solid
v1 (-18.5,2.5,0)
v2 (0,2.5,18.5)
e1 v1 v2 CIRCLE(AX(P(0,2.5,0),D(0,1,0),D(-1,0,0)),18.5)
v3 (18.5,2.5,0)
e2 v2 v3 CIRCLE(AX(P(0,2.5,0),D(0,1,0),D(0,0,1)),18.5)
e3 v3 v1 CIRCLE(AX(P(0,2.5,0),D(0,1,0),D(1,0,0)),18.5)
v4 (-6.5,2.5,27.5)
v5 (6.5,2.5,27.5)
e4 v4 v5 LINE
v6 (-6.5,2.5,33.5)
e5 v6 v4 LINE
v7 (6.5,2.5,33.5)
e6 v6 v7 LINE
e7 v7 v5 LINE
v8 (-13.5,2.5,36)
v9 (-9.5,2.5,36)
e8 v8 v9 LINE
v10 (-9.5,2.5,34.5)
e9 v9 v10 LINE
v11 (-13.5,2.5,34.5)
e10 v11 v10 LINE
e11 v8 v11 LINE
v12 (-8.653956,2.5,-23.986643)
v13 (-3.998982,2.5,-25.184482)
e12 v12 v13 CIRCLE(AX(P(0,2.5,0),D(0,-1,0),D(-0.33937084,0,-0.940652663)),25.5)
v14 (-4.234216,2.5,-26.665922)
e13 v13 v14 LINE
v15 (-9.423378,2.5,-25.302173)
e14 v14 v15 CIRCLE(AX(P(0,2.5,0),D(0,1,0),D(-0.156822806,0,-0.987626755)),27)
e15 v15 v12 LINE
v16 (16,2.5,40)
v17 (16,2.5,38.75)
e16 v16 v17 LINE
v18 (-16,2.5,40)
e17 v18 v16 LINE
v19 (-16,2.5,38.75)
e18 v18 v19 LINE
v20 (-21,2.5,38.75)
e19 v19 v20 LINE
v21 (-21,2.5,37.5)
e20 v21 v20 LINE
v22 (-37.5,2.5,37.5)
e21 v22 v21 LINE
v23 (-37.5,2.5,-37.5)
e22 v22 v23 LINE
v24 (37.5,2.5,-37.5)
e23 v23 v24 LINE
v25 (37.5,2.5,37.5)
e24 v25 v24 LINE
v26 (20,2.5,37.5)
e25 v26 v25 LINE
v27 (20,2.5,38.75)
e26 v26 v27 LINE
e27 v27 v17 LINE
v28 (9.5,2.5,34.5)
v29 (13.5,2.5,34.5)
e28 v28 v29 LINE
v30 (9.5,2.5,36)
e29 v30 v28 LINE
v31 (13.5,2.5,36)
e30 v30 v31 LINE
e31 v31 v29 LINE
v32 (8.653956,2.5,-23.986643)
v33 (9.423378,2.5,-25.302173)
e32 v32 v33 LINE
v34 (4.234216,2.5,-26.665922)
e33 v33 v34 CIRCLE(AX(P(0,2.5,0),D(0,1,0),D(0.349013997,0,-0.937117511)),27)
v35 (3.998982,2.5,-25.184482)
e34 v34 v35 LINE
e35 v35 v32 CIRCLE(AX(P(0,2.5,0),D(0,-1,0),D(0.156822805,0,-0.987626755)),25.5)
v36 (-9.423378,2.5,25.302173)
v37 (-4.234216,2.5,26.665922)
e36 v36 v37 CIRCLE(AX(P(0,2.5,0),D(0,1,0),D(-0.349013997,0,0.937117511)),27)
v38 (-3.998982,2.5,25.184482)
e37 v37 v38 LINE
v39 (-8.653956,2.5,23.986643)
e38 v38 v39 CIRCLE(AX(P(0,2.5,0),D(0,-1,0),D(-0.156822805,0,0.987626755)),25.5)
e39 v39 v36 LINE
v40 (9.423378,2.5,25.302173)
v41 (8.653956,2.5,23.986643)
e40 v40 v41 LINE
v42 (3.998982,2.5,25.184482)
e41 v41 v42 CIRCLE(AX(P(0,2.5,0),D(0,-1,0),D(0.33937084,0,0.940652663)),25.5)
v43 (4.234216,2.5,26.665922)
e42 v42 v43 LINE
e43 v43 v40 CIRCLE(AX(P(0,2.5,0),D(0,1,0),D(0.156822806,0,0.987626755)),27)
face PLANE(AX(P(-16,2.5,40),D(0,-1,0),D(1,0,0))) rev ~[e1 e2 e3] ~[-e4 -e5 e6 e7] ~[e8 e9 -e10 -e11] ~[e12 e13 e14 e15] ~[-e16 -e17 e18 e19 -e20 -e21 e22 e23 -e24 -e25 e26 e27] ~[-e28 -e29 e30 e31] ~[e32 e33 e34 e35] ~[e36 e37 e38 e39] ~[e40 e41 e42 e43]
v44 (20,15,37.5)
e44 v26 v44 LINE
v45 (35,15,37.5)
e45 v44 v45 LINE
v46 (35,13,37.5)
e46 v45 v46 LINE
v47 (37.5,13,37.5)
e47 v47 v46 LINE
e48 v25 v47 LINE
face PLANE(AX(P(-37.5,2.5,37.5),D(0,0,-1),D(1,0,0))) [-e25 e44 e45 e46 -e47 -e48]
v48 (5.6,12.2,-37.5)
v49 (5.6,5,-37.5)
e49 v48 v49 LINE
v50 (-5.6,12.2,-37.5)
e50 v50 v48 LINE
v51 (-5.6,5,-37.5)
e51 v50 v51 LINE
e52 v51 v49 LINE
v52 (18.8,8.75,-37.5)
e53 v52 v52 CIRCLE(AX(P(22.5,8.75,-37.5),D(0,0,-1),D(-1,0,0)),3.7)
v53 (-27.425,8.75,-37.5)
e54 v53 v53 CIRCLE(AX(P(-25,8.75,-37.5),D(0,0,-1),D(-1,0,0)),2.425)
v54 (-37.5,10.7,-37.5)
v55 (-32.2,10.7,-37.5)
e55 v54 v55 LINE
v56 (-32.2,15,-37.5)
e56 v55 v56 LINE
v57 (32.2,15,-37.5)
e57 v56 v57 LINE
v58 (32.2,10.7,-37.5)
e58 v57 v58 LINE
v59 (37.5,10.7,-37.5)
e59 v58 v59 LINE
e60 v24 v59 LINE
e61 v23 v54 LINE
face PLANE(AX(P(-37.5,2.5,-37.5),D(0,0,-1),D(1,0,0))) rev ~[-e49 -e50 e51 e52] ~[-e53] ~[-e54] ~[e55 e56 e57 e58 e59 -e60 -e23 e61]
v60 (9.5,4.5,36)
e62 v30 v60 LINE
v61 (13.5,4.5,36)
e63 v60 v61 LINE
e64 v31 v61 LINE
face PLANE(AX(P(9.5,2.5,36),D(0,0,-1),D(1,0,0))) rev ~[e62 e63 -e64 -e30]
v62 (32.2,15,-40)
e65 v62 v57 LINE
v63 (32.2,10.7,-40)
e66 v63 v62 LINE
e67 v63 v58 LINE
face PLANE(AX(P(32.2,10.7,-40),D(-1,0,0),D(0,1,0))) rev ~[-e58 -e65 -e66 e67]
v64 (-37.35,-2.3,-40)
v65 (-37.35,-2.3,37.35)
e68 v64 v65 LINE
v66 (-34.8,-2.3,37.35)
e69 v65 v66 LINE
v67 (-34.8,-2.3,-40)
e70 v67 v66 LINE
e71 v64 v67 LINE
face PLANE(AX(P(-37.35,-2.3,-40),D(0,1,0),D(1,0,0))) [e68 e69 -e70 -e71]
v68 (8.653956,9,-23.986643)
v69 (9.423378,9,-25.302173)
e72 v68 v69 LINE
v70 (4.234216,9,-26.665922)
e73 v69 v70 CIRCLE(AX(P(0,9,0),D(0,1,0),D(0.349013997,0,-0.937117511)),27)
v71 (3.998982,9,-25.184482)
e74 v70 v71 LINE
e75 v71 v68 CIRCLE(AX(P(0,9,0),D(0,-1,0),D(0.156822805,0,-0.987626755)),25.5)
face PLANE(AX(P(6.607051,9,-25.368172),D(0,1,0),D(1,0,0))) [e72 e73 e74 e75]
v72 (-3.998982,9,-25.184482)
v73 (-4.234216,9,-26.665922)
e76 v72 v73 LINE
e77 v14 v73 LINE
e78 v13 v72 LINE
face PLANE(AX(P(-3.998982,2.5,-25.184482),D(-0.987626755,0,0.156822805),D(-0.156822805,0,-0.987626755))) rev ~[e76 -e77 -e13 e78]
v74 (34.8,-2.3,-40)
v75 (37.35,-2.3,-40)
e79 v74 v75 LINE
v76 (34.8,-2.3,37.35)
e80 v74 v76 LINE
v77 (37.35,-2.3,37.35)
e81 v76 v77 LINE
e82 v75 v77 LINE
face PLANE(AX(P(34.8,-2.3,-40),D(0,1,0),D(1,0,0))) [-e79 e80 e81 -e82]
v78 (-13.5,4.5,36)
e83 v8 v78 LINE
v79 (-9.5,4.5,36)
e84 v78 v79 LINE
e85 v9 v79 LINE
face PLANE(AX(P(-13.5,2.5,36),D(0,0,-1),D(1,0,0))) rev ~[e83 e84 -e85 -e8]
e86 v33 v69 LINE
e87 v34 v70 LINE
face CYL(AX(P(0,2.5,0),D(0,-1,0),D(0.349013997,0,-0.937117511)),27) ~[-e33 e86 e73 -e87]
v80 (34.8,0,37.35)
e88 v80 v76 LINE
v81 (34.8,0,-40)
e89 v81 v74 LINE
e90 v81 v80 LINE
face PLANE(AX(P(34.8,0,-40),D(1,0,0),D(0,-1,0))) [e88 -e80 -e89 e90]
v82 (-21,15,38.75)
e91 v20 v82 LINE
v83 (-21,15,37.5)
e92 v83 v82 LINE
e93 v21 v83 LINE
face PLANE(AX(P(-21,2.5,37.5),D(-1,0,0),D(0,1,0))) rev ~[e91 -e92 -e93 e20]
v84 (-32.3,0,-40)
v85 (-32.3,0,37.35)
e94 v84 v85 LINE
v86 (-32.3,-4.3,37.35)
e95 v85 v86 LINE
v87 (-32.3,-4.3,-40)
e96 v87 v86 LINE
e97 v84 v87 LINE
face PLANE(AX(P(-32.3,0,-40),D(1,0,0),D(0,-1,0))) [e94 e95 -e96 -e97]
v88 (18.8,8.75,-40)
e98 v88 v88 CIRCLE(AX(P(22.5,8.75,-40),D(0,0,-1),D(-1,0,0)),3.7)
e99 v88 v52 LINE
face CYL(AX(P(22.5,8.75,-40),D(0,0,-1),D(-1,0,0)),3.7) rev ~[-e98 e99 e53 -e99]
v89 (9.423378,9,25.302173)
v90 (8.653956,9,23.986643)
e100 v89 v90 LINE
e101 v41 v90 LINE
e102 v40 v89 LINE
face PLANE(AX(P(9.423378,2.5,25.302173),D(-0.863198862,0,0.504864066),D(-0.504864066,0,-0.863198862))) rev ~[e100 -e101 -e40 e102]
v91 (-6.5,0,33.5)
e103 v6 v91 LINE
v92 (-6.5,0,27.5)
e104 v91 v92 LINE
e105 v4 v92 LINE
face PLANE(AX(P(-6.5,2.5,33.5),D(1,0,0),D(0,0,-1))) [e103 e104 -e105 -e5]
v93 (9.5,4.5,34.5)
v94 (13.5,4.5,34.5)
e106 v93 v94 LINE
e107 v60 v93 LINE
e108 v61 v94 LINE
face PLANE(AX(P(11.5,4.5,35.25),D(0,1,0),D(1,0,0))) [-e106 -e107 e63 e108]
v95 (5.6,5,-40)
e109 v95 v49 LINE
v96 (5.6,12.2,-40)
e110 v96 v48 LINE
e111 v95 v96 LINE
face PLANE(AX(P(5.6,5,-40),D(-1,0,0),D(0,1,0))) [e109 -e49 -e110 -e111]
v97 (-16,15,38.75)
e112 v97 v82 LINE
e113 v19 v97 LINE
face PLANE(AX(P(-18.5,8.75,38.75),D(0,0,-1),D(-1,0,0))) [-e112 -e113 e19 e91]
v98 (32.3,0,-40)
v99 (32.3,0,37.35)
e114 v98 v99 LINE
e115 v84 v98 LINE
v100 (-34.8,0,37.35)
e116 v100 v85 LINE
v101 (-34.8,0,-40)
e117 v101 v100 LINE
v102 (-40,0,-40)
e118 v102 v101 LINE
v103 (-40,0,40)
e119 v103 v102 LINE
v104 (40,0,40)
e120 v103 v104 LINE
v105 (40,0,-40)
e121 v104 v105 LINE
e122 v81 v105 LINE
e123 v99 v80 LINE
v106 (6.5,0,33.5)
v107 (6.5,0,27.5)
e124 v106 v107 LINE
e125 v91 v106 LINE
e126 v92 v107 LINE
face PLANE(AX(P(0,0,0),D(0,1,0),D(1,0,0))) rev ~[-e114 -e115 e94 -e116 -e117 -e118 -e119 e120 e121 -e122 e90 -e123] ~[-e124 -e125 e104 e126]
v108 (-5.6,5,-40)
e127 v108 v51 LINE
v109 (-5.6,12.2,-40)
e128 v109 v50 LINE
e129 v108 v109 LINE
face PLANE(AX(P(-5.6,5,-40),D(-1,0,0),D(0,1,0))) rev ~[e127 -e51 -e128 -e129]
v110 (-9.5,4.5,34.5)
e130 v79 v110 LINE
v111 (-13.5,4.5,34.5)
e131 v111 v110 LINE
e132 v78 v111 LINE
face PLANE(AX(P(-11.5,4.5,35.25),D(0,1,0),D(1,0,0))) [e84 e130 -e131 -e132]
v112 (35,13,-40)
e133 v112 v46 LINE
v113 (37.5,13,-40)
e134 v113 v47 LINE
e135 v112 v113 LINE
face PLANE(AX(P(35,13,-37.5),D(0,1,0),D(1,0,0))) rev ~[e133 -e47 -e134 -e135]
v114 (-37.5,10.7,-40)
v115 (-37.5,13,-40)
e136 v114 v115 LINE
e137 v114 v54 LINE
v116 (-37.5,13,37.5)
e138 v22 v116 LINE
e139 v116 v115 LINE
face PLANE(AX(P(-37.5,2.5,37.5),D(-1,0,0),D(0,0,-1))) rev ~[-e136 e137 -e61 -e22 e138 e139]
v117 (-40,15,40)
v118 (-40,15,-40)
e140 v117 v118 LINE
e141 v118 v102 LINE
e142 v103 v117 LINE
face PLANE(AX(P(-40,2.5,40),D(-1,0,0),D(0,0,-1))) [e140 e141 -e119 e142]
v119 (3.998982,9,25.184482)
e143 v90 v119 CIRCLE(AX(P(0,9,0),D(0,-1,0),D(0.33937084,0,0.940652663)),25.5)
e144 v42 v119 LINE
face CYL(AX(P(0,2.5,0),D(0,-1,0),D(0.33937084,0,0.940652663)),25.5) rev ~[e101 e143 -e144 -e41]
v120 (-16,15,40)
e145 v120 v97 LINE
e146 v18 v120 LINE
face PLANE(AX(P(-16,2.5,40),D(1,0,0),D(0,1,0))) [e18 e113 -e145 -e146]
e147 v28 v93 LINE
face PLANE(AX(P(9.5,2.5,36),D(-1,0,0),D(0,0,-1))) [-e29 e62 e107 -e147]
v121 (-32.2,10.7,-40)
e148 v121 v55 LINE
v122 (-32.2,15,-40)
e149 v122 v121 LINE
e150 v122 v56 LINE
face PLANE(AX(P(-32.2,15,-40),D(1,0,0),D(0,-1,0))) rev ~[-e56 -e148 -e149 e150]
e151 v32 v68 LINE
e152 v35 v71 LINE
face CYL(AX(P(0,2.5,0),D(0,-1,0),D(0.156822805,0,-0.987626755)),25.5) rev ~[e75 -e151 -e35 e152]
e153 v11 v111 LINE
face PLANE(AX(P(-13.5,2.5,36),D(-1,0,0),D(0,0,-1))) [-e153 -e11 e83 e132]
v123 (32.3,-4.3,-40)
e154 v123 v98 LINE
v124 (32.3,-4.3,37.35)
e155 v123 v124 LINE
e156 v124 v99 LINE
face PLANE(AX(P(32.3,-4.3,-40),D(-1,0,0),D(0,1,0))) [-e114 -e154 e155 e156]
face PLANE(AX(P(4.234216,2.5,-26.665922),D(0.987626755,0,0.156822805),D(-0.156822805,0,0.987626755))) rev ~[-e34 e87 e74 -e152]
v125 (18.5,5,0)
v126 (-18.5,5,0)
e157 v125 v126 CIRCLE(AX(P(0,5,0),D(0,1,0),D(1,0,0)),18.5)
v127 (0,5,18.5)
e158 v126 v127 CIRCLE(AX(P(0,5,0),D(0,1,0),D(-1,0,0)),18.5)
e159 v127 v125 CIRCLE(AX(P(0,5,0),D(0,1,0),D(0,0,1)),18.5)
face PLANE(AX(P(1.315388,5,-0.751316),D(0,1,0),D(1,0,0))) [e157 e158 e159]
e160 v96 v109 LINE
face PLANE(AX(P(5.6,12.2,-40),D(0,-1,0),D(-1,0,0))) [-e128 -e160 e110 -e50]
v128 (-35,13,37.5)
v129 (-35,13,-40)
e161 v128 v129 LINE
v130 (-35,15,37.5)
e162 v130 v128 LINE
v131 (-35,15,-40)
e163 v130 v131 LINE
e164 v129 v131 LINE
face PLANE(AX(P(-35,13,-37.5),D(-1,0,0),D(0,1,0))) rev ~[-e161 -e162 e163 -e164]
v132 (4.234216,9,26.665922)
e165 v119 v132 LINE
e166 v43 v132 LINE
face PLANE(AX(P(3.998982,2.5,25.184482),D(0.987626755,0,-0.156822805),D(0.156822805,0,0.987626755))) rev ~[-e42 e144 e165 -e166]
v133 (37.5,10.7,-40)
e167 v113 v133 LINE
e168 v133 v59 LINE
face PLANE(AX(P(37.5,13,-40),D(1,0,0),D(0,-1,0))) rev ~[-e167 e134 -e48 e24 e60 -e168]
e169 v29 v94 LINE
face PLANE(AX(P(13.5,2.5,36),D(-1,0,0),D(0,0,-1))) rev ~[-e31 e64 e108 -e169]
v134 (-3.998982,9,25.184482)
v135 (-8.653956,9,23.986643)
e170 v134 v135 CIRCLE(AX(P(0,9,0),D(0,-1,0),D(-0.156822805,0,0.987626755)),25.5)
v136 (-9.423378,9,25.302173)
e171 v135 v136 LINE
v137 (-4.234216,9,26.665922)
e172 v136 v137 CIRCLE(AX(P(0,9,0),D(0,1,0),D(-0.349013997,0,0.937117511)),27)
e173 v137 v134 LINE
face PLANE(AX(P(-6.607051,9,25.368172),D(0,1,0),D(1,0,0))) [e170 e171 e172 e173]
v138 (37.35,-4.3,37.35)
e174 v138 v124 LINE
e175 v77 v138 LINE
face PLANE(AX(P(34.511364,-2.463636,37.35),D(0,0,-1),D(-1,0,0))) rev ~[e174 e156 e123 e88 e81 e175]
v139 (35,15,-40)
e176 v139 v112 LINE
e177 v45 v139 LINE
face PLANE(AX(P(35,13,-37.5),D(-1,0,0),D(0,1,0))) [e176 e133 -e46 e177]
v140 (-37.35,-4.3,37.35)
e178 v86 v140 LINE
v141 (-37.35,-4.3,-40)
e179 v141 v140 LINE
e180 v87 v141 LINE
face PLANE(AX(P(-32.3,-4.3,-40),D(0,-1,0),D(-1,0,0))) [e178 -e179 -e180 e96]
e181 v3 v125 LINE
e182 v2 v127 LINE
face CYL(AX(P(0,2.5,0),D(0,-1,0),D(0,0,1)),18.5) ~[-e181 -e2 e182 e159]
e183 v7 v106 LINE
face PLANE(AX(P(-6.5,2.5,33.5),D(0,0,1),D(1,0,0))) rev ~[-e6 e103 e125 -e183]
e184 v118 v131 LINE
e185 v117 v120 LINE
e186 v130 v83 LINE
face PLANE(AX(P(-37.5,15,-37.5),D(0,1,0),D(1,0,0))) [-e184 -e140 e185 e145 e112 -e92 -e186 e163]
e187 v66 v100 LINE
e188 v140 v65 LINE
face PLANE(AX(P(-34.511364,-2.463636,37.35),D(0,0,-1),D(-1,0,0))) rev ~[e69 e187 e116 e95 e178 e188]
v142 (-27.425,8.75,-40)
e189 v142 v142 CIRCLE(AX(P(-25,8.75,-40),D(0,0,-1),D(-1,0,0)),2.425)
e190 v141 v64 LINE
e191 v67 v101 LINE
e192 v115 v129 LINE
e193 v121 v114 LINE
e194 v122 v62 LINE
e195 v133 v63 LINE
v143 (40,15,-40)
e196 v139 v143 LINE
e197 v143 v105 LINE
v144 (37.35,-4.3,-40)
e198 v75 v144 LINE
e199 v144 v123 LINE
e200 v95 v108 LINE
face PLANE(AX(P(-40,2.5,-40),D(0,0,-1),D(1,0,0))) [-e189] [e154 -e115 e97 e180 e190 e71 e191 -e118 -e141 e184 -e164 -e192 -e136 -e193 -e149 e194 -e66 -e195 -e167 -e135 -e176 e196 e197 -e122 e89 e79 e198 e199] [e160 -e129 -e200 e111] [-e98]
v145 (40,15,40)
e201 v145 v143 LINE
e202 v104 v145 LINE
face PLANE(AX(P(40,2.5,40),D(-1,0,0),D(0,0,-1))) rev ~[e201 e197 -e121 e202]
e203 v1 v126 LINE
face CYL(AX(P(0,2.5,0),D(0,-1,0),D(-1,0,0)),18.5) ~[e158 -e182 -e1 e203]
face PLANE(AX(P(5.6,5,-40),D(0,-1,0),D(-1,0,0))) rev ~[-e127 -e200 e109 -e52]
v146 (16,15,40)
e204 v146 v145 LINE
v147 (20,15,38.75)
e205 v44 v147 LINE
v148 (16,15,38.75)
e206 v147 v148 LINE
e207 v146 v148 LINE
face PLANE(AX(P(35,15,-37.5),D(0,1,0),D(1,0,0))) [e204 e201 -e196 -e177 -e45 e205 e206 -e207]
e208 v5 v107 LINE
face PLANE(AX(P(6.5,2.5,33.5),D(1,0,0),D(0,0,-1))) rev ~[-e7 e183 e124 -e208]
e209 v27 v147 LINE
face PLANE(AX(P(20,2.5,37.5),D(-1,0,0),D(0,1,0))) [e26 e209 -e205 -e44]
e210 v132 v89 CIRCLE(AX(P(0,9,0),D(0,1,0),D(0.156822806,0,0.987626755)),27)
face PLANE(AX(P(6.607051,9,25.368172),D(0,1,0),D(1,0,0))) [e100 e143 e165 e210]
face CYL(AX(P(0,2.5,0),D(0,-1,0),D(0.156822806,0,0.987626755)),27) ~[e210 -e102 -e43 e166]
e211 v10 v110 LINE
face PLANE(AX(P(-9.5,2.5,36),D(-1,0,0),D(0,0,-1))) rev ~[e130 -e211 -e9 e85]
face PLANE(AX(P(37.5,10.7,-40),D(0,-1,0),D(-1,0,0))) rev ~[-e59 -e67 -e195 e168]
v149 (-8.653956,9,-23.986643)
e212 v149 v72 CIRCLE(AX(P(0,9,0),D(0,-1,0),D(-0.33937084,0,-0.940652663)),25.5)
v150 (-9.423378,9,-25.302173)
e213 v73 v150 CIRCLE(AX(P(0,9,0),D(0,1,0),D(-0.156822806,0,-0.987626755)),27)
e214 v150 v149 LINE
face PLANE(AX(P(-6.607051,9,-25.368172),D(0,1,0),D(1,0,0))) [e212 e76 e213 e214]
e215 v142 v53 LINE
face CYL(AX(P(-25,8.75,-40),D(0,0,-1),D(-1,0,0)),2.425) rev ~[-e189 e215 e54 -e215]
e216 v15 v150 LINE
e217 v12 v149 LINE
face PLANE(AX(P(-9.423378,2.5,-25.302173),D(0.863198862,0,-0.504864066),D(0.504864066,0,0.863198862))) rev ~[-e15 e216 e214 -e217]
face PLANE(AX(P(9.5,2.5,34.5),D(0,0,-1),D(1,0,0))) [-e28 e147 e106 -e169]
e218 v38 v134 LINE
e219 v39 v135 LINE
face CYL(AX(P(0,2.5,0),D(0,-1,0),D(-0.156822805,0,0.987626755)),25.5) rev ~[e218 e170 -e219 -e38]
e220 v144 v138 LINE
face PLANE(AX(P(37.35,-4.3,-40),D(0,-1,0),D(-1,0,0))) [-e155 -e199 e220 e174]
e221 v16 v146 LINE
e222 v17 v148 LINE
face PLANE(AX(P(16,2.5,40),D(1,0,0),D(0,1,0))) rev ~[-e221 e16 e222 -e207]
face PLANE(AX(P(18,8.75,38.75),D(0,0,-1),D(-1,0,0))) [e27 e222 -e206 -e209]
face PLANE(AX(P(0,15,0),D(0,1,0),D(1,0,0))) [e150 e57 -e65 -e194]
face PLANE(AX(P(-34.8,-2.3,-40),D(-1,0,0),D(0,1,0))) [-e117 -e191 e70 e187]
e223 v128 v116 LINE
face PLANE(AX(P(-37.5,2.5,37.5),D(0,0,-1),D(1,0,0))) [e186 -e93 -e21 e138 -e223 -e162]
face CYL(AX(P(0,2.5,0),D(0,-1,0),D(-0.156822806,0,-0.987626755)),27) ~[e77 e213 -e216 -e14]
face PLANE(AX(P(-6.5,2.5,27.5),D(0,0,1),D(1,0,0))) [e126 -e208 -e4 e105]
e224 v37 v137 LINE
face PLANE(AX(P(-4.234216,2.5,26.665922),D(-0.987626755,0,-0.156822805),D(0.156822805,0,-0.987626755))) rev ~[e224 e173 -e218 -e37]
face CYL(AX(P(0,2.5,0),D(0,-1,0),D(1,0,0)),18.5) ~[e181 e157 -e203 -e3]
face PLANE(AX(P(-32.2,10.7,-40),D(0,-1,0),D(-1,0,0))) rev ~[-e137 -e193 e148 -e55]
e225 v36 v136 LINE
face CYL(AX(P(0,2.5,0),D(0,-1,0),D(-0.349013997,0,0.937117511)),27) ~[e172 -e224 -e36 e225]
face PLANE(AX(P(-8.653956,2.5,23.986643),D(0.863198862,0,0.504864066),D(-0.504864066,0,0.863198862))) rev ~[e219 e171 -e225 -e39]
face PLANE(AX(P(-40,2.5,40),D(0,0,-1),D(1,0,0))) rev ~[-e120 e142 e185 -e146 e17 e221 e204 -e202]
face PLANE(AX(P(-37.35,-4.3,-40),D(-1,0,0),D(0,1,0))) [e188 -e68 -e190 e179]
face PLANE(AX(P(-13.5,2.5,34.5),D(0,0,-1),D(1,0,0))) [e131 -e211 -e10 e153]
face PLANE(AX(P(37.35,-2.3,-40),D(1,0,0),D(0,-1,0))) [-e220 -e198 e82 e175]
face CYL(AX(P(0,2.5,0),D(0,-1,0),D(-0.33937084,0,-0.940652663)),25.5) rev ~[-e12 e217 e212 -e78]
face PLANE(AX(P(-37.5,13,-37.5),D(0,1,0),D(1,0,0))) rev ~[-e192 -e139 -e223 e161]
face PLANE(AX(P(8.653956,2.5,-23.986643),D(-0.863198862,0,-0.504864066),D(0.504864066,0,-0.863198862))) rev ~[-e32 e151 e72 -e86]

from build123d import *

# Parameters (mm, degrees)
SKETCH1_W           = 80
SKETCH1_H           = 80
BOSS_EXTRUDE1_DEPTH = 2.5
SKETCH3_W           = 80
SKETCH3_H           = 80
SKETCH3_W_2         = 75
SKETCH3_H_2         = 75
BOSS_EXTRUDE2_DEPTH = 12.5
BOSS_EXTRUDE3_DEPTH = 6.5
SKETCH5_W           = 13
SKETCH5_H           = 6
CUT_EXTRUDE1_DEPTH  = 58.933151131
CUT_EXTRUDE2_REACH  = 92.692
SKETCH6_W           = 32
SKETCH6_H           = 12.5
CUT_EXTRUDE3_REACH  = 92.692
SKETCH7_W           = 11.2
SKETCH7_H           = 7.2
BOSS_EXTRUDE4_DEPTH = 77.35
CUT_EXTRUDE4_REACH  = 92.692
BOSS_EXTRUDE5_REACH = 90.494
SKETCH15_W          = 2.5
SKETCH15_H          = 2
BOSS_EXTRUDE6_DEPTH = 2.5
SKETCH16_W          = 5
SKETCH16_H          = 12.5
SKETCH16_W_2        = 4
CUT_EXTRUDE5_DEPTH  = 1.25
SKETCH17_W          = 4
SKETCH17_H          = 1.5
BOSS_EXTRUDE7_DEPTH = 2
CUT_EXTRUDE7_REACH  = 92.692
SKETCH18_R          = 3.7
CUT_EXTRUDE8_REACH  = 92.692
SKETCH19_R          = 2.425


with BuildPart() as part:
    # Sketch1 → Boss-Extrude1 (new body)
    with BuildSketch(Plane(origin=(0, 0, 0), x_dir=(1, 0, 0), z_dir=(0, 1, 0))):
        Rectangle(SKETCH1_W, SKETCH1_H)
    extrude(amount=BOSS_EXTRUDE1_DEPTH)

    # Sketch3 → Boss-Extrude2 (add)
    with BuildSketch(Plane(origin=(0, 2.5, 0), x_dir=(1, 0, 0), z_dir=(0, 1, 0))):
        Rectangle(SKETCH3_W, SKETCH3_H)
        Rectangle(SKETCH3_W_2, SKETCH3_H_2, mode=Mode.SUBTRACT)
    extrude(amount=BOSS_EXTRUDE2_DEPTH)

    # Sketch2 → Boss-Extrude3 (add)
    with BuildSketch(Plane(origin=(0, 2.5, 0), x_dir=(1, 0, 0), z_dir=(0, 1, 0))):
        with BuildLine():
            ThreePointArc((-8.653956432, 23.98664291), (-6.354755269, 24.695487148), (-3.998981529, 25.184482261))
            Line((-3.998981529, 25.184482261), (-4.234215736, 26.665922394))
            ThreePointArc((-4.234215736, 26.665922394), (-6.862755968, 26.113264455), (-9.423377938, 25.302172797))
            Line((-9.423377938, 25.302172797), (-8.653956432, 23.98664291))
        make_face()
        with BuildLine():
            Line((4.234215736, 26.665922394), (3.998981529, 25.184482261))
            ThreePointArc((3.998981529, 25.184482261), (6.354755269, 24.695487148), (8.653956432, 23.98664291))
            Line((8.653956432, 23.98664291), (9.423377938, 25.302172797))
            ThreePointArc((9.423377938, 25.302172797), (6.862755968, 26.113264455), (4.234215736, 26.665922394))
        make_face()
        with BuildLine():
            Line((-8.653956432, -23.98664291), (-9.423377938, -25.302172797))
            ThreePointArc((-9.423377938, -25.302172797), (-6.862755968, -26.113264455), (-4.234215736, -26.665922394))
            Line((-4.234215736, -26.665922394), (-3.998981529, -25.184482261))
            ThreePointArc((-3.998981529, -25.184482261), (-6.354755269, -24.695487148), (-8.653956432, -23.98664291))
        make_face()
        with BuildLine():
            Line((9.423377938, -25.302172797), (8.653956432, -23.98664291))
            ThreePointArc((8.653956432, -23.98664291), (6.354755269, -24.695487148), (3.998981529, -25.184482261))
            Line((3.998981529, -25.184482261), (4.234215736, -26.665922394))
            ThreePointArc((4.234215736, -26.665922394), (6.862755968, -26.113264455), (9.423377938, -25.302172797))
        make_face()
    extrude(amount=BOSS_EXTRUDE3_DEPTH)

    # Sketch5 → Cut-Extrude1 (cut, through all)
    with BuildSketch(Plane(origin=(0, 2.5, 0), x_dir=(1, 0, 0), z_dir=(0, 1, 0))):
        with Locations((0, -30.5)):
            Rectangle(SKETCH5_W, SKETCH5_H)
    extrude(amount=-CUT_EXTRUDE1_DEPTH, mode=Mode.SUBTRACT)

    # Sketch6 → Cut-Extrude2 (cut, up to next)
    with BuildSketch(Plane.XY.offset(40), mode=Mode.PRIVATE) as cut_extrude2_sk1:
        with Locations((0, 8.75)):
            Rectangle(SKETCH6_W, SKETCH6_H)
    cut_extrude2_tool1 = extrude(cut_extrude2_sk1.sketch, amount=-CUT_EXTRUDE2_REACH, mode=Mode.PRIVATE) & part.part
    add(cut_extrude2_tool1.solids().sort_by_distance((0, 8.75, 40))[0], mode=Mode.SUBTRACT)

    # Sketch7 → Cut-Extrude3 (cut, up to next)
    with BuildSketch(Plane(origin=(0, 0, -40), x_dir=(-1, 0, 0), z_dir=(0, 0, -1)), mode=Mode.PRIVATE) as cut_extrude3_sk1:
        with Locations((0, 8.6)):
            Rectangle(SKETCH7_W, SKETCH7_H)
    cut_extrude3_tool1 = extrude(cut_extrude3_sk1.sketch, amount=-CUT_EXTRUDE3_REACH, mode=Mode.PRIVATE) & part.part
    add(cut_extrude3_tool1.solids().sort_by_distance((0, 8.6, -40))[0], mode=Mode.SUBTRACT)

    # Sketch9 → Boss-Extrude4 (add)
    with BuildSketch(Plane(origin=(0, 0, -40), x_dir=(-1, 0, 0), z_dir=(0, 0, -1))):
        Polygon((34.8, 0), (32.3, 0), (32.3, -4.3), (37.35, -4.3), (37.35, -2.3), (34.8, -2.3), align=None)
        Polygon((-32.3, 0), (-34.8, 0), (-34.8, -2.3), (-37.35, -2.3), (-37.35, -4.3), (-32.3, -4.3), align=None)
    extrude(amount=-BOSS_EXTRUDE4_DEPTH)

    # Sketch10 → Cut-Extrude4 (cut, up to next)
    with BuildSketch(Plane(origin=(0, 0, -40), x_dir=(-1, 0, 0), z_dir=(0, 0, -1)), mode=Mode.PRIVATE) as cut_extrude4_sk1:
        Polygon((-32.2, 15), (-35, 15), (-35, 13), (-37.5, 13), (-37.5, 10.7), (-32.2, 10.7), align=None)
    cut_extrude4_tool1 = extrude(cut_extrude4_sk1.sketch, amount=-CUT_EXTRUDE4_REACH, mode=Mode.PRIVATE) & part.part
    # Sketch10 → Cut-Extrude4 (cut, up to next)
    with BuildSketch(Plane(origin=(0, 0, -40), x_dir=(-1, 0, 0), z_dir=(0, 0, -1)), mode=Mode.PRIVATE) as cut_extrude4_sk2:
        Polygon((35, 15), (32.2, 15), (32.2, 10.7), (37.5, 10.7), (37.5, 13), (35, 13), align=None)
    cut_extrude4_tool2 = extrude(cut_extrude4_sk2.sketch, amount=-CUT_EXTRUDE4_REACH, mode=Mode.PRIVATE) & part.part
    add(cut_extrude4_tool1.solids().sort_by_distance((34.456521, 12.526785, -40))[0], mode=Mode.SUBTRACT)
    add(cut_extrude4_tool2.solids().sort_by_distance((-34.456521, 12.526785, -40))[0], mode=Mode.SUBTRACT)

    # Sketch15 → Boss-Extrude5 (add, up to next)
    with BuildSketch(Plane.XY.offset(-37.5), mode=Mode.PRIVATE) as boss_extrude5_sk1:
        with Locations((36.25, 14)):
            Rectangle(SKETCH15_W, SKETCH15_H)
    boss_extrude5_tool1 = extrude(boss_extrude5_sk1.sketch, amount=BOSS_EXTRUDE5_REACH, mode=Mode.PRIVATE) - part.part
    # Sketch15 → Boss-Extrude5 (add, up to next)
    with BuildSketch(Plane.XY.offset(-37.5), mode=Mode.PRIVATE) as boss_extrude5_sk2:
        with Locations((-36.25, 14)):
            Rectangle(SKETCH15_W, SKETCH15_H)
    boss_extrude5_tool2 = extrude(boss_extrude5_sk2.sketch, amount=BOSS_EXTRUDE5_REACH, mode=Mode.PRIVATE) - part.part
    add(boss_extrude5_tool1.solids().sort_by_distance((36.25, 14, -37.5))[0])
    add(boss_extrude5_tool2.solids().sort_by_distance((-36.25, 14, -37.5))[0])

    # Sketch2<3> → Boss-Extrude6 (add)
    with BuildSketch(Plane(origin=(0, 2.5, 0), x_dir=(1, 0, 0), z_dir=(0, 1, 0))):
        with BuildLine():
            ThreePointArc((18.5, 0), (0, 18.5), (-18.5, 0))
            Line((-18.5, 0), (0, 0))
            Line((0, 0), (0, -18.5))
            ThreePointArc((0, -18.5), (13.081475452, -13.081475452), (18.5, 0))
        make_face()
        with BuildLine():
            Line((0, 0), (-18.5, 0))
            ThreePointArc((-18.5, 0), (-13.081475452, -13.081475452), (0, -18.5))
            Line((0, -18.5), (0, 0))
        make_face()
    extrude(amount=BOSS_EXTRUDE6_DEPTH)

    # Sketch16 → Cut-Extrude5 (cut)
    with BuildSketch(Plane(origin=(0, 0, 37.5), x_dir=(-1, 0, 0), z_dir=(0, 0, -1))):
        with Locations((18.5, 8.75)):
            Rectangle(SKETCH16_W, SKETCH16_H)
        with Locations((-18, 8.75)):
            Rectangle(SKETCH16_W_2, SKETCH16_H)
    extrude(amount=-CUT_EXTRUDE5_DEPTH, mode=Mode.SUBTRACT)

    # Sketch17 → Boss-Extrude7 (add)
    with BuildSketch(Plane(origin=(0, 2.5, 0), x_dir=(1, 0, 0), z_dir=(0, 1, 0))):
        with Locations((-11.5, -35.25)):
            Rectangle(SKETCH17_W, SKETCH17_H)
        with Locations((11.5, -35.25)):
            Rectangle(SKETCH17_W, SKETCH17_H)
    extrude(amount=BOSS_EXTRUDE7_DEPTH)

    # Sketch18 → Cut-Extrude7 (cut, up to next)
    with BuildSketch(Plane(origin=(0, 0, -40), x_dir=(-1, 0, 0), z_dir=(0, 0, -1)), mode=Mode.PRIVATE) as cut_extrude7_sk1:
        with Locations((-22.5, 8.75)):
            Circle(SKETCH18_R)
    cut_extrude7_tool1 = extrude(cut_extrude7_sk1.sketch, amount=-CUT_EXTRUDE7_REACH, mode=Mode.PRIVATE) & part.part
    add(cut_extrude7_tool1.solids().sort_by_distance((22.5, 8.75, -40))[0], mode=Mode.SUBTRACT)

    # Sketch19 → Cut-Extrude8 (cut, up to next)
    with BuildSketch(Plane(origin=(0, 0, -40), x_dir=(-1, 0, 0), z_dir=(0, 0, -1)), mode=Mode.PRIVATE) as cut_extrude8_sk1:
        with Locations((25, 8.75)):
            Circle(SKETCH19_R)
    cut_extrude8_tool1 = extrude(cut_extrude8_sk1.sketch, amount=-CUT_EXTRUDE8_REACH, mode=Mode.PRIVATE) & part.part
    add(cut_extrude8_tool1.solids().sort_by_distance((-25, 8.75, -40))[0], mode=Mode.SUBTRACT)


solid = part.part
